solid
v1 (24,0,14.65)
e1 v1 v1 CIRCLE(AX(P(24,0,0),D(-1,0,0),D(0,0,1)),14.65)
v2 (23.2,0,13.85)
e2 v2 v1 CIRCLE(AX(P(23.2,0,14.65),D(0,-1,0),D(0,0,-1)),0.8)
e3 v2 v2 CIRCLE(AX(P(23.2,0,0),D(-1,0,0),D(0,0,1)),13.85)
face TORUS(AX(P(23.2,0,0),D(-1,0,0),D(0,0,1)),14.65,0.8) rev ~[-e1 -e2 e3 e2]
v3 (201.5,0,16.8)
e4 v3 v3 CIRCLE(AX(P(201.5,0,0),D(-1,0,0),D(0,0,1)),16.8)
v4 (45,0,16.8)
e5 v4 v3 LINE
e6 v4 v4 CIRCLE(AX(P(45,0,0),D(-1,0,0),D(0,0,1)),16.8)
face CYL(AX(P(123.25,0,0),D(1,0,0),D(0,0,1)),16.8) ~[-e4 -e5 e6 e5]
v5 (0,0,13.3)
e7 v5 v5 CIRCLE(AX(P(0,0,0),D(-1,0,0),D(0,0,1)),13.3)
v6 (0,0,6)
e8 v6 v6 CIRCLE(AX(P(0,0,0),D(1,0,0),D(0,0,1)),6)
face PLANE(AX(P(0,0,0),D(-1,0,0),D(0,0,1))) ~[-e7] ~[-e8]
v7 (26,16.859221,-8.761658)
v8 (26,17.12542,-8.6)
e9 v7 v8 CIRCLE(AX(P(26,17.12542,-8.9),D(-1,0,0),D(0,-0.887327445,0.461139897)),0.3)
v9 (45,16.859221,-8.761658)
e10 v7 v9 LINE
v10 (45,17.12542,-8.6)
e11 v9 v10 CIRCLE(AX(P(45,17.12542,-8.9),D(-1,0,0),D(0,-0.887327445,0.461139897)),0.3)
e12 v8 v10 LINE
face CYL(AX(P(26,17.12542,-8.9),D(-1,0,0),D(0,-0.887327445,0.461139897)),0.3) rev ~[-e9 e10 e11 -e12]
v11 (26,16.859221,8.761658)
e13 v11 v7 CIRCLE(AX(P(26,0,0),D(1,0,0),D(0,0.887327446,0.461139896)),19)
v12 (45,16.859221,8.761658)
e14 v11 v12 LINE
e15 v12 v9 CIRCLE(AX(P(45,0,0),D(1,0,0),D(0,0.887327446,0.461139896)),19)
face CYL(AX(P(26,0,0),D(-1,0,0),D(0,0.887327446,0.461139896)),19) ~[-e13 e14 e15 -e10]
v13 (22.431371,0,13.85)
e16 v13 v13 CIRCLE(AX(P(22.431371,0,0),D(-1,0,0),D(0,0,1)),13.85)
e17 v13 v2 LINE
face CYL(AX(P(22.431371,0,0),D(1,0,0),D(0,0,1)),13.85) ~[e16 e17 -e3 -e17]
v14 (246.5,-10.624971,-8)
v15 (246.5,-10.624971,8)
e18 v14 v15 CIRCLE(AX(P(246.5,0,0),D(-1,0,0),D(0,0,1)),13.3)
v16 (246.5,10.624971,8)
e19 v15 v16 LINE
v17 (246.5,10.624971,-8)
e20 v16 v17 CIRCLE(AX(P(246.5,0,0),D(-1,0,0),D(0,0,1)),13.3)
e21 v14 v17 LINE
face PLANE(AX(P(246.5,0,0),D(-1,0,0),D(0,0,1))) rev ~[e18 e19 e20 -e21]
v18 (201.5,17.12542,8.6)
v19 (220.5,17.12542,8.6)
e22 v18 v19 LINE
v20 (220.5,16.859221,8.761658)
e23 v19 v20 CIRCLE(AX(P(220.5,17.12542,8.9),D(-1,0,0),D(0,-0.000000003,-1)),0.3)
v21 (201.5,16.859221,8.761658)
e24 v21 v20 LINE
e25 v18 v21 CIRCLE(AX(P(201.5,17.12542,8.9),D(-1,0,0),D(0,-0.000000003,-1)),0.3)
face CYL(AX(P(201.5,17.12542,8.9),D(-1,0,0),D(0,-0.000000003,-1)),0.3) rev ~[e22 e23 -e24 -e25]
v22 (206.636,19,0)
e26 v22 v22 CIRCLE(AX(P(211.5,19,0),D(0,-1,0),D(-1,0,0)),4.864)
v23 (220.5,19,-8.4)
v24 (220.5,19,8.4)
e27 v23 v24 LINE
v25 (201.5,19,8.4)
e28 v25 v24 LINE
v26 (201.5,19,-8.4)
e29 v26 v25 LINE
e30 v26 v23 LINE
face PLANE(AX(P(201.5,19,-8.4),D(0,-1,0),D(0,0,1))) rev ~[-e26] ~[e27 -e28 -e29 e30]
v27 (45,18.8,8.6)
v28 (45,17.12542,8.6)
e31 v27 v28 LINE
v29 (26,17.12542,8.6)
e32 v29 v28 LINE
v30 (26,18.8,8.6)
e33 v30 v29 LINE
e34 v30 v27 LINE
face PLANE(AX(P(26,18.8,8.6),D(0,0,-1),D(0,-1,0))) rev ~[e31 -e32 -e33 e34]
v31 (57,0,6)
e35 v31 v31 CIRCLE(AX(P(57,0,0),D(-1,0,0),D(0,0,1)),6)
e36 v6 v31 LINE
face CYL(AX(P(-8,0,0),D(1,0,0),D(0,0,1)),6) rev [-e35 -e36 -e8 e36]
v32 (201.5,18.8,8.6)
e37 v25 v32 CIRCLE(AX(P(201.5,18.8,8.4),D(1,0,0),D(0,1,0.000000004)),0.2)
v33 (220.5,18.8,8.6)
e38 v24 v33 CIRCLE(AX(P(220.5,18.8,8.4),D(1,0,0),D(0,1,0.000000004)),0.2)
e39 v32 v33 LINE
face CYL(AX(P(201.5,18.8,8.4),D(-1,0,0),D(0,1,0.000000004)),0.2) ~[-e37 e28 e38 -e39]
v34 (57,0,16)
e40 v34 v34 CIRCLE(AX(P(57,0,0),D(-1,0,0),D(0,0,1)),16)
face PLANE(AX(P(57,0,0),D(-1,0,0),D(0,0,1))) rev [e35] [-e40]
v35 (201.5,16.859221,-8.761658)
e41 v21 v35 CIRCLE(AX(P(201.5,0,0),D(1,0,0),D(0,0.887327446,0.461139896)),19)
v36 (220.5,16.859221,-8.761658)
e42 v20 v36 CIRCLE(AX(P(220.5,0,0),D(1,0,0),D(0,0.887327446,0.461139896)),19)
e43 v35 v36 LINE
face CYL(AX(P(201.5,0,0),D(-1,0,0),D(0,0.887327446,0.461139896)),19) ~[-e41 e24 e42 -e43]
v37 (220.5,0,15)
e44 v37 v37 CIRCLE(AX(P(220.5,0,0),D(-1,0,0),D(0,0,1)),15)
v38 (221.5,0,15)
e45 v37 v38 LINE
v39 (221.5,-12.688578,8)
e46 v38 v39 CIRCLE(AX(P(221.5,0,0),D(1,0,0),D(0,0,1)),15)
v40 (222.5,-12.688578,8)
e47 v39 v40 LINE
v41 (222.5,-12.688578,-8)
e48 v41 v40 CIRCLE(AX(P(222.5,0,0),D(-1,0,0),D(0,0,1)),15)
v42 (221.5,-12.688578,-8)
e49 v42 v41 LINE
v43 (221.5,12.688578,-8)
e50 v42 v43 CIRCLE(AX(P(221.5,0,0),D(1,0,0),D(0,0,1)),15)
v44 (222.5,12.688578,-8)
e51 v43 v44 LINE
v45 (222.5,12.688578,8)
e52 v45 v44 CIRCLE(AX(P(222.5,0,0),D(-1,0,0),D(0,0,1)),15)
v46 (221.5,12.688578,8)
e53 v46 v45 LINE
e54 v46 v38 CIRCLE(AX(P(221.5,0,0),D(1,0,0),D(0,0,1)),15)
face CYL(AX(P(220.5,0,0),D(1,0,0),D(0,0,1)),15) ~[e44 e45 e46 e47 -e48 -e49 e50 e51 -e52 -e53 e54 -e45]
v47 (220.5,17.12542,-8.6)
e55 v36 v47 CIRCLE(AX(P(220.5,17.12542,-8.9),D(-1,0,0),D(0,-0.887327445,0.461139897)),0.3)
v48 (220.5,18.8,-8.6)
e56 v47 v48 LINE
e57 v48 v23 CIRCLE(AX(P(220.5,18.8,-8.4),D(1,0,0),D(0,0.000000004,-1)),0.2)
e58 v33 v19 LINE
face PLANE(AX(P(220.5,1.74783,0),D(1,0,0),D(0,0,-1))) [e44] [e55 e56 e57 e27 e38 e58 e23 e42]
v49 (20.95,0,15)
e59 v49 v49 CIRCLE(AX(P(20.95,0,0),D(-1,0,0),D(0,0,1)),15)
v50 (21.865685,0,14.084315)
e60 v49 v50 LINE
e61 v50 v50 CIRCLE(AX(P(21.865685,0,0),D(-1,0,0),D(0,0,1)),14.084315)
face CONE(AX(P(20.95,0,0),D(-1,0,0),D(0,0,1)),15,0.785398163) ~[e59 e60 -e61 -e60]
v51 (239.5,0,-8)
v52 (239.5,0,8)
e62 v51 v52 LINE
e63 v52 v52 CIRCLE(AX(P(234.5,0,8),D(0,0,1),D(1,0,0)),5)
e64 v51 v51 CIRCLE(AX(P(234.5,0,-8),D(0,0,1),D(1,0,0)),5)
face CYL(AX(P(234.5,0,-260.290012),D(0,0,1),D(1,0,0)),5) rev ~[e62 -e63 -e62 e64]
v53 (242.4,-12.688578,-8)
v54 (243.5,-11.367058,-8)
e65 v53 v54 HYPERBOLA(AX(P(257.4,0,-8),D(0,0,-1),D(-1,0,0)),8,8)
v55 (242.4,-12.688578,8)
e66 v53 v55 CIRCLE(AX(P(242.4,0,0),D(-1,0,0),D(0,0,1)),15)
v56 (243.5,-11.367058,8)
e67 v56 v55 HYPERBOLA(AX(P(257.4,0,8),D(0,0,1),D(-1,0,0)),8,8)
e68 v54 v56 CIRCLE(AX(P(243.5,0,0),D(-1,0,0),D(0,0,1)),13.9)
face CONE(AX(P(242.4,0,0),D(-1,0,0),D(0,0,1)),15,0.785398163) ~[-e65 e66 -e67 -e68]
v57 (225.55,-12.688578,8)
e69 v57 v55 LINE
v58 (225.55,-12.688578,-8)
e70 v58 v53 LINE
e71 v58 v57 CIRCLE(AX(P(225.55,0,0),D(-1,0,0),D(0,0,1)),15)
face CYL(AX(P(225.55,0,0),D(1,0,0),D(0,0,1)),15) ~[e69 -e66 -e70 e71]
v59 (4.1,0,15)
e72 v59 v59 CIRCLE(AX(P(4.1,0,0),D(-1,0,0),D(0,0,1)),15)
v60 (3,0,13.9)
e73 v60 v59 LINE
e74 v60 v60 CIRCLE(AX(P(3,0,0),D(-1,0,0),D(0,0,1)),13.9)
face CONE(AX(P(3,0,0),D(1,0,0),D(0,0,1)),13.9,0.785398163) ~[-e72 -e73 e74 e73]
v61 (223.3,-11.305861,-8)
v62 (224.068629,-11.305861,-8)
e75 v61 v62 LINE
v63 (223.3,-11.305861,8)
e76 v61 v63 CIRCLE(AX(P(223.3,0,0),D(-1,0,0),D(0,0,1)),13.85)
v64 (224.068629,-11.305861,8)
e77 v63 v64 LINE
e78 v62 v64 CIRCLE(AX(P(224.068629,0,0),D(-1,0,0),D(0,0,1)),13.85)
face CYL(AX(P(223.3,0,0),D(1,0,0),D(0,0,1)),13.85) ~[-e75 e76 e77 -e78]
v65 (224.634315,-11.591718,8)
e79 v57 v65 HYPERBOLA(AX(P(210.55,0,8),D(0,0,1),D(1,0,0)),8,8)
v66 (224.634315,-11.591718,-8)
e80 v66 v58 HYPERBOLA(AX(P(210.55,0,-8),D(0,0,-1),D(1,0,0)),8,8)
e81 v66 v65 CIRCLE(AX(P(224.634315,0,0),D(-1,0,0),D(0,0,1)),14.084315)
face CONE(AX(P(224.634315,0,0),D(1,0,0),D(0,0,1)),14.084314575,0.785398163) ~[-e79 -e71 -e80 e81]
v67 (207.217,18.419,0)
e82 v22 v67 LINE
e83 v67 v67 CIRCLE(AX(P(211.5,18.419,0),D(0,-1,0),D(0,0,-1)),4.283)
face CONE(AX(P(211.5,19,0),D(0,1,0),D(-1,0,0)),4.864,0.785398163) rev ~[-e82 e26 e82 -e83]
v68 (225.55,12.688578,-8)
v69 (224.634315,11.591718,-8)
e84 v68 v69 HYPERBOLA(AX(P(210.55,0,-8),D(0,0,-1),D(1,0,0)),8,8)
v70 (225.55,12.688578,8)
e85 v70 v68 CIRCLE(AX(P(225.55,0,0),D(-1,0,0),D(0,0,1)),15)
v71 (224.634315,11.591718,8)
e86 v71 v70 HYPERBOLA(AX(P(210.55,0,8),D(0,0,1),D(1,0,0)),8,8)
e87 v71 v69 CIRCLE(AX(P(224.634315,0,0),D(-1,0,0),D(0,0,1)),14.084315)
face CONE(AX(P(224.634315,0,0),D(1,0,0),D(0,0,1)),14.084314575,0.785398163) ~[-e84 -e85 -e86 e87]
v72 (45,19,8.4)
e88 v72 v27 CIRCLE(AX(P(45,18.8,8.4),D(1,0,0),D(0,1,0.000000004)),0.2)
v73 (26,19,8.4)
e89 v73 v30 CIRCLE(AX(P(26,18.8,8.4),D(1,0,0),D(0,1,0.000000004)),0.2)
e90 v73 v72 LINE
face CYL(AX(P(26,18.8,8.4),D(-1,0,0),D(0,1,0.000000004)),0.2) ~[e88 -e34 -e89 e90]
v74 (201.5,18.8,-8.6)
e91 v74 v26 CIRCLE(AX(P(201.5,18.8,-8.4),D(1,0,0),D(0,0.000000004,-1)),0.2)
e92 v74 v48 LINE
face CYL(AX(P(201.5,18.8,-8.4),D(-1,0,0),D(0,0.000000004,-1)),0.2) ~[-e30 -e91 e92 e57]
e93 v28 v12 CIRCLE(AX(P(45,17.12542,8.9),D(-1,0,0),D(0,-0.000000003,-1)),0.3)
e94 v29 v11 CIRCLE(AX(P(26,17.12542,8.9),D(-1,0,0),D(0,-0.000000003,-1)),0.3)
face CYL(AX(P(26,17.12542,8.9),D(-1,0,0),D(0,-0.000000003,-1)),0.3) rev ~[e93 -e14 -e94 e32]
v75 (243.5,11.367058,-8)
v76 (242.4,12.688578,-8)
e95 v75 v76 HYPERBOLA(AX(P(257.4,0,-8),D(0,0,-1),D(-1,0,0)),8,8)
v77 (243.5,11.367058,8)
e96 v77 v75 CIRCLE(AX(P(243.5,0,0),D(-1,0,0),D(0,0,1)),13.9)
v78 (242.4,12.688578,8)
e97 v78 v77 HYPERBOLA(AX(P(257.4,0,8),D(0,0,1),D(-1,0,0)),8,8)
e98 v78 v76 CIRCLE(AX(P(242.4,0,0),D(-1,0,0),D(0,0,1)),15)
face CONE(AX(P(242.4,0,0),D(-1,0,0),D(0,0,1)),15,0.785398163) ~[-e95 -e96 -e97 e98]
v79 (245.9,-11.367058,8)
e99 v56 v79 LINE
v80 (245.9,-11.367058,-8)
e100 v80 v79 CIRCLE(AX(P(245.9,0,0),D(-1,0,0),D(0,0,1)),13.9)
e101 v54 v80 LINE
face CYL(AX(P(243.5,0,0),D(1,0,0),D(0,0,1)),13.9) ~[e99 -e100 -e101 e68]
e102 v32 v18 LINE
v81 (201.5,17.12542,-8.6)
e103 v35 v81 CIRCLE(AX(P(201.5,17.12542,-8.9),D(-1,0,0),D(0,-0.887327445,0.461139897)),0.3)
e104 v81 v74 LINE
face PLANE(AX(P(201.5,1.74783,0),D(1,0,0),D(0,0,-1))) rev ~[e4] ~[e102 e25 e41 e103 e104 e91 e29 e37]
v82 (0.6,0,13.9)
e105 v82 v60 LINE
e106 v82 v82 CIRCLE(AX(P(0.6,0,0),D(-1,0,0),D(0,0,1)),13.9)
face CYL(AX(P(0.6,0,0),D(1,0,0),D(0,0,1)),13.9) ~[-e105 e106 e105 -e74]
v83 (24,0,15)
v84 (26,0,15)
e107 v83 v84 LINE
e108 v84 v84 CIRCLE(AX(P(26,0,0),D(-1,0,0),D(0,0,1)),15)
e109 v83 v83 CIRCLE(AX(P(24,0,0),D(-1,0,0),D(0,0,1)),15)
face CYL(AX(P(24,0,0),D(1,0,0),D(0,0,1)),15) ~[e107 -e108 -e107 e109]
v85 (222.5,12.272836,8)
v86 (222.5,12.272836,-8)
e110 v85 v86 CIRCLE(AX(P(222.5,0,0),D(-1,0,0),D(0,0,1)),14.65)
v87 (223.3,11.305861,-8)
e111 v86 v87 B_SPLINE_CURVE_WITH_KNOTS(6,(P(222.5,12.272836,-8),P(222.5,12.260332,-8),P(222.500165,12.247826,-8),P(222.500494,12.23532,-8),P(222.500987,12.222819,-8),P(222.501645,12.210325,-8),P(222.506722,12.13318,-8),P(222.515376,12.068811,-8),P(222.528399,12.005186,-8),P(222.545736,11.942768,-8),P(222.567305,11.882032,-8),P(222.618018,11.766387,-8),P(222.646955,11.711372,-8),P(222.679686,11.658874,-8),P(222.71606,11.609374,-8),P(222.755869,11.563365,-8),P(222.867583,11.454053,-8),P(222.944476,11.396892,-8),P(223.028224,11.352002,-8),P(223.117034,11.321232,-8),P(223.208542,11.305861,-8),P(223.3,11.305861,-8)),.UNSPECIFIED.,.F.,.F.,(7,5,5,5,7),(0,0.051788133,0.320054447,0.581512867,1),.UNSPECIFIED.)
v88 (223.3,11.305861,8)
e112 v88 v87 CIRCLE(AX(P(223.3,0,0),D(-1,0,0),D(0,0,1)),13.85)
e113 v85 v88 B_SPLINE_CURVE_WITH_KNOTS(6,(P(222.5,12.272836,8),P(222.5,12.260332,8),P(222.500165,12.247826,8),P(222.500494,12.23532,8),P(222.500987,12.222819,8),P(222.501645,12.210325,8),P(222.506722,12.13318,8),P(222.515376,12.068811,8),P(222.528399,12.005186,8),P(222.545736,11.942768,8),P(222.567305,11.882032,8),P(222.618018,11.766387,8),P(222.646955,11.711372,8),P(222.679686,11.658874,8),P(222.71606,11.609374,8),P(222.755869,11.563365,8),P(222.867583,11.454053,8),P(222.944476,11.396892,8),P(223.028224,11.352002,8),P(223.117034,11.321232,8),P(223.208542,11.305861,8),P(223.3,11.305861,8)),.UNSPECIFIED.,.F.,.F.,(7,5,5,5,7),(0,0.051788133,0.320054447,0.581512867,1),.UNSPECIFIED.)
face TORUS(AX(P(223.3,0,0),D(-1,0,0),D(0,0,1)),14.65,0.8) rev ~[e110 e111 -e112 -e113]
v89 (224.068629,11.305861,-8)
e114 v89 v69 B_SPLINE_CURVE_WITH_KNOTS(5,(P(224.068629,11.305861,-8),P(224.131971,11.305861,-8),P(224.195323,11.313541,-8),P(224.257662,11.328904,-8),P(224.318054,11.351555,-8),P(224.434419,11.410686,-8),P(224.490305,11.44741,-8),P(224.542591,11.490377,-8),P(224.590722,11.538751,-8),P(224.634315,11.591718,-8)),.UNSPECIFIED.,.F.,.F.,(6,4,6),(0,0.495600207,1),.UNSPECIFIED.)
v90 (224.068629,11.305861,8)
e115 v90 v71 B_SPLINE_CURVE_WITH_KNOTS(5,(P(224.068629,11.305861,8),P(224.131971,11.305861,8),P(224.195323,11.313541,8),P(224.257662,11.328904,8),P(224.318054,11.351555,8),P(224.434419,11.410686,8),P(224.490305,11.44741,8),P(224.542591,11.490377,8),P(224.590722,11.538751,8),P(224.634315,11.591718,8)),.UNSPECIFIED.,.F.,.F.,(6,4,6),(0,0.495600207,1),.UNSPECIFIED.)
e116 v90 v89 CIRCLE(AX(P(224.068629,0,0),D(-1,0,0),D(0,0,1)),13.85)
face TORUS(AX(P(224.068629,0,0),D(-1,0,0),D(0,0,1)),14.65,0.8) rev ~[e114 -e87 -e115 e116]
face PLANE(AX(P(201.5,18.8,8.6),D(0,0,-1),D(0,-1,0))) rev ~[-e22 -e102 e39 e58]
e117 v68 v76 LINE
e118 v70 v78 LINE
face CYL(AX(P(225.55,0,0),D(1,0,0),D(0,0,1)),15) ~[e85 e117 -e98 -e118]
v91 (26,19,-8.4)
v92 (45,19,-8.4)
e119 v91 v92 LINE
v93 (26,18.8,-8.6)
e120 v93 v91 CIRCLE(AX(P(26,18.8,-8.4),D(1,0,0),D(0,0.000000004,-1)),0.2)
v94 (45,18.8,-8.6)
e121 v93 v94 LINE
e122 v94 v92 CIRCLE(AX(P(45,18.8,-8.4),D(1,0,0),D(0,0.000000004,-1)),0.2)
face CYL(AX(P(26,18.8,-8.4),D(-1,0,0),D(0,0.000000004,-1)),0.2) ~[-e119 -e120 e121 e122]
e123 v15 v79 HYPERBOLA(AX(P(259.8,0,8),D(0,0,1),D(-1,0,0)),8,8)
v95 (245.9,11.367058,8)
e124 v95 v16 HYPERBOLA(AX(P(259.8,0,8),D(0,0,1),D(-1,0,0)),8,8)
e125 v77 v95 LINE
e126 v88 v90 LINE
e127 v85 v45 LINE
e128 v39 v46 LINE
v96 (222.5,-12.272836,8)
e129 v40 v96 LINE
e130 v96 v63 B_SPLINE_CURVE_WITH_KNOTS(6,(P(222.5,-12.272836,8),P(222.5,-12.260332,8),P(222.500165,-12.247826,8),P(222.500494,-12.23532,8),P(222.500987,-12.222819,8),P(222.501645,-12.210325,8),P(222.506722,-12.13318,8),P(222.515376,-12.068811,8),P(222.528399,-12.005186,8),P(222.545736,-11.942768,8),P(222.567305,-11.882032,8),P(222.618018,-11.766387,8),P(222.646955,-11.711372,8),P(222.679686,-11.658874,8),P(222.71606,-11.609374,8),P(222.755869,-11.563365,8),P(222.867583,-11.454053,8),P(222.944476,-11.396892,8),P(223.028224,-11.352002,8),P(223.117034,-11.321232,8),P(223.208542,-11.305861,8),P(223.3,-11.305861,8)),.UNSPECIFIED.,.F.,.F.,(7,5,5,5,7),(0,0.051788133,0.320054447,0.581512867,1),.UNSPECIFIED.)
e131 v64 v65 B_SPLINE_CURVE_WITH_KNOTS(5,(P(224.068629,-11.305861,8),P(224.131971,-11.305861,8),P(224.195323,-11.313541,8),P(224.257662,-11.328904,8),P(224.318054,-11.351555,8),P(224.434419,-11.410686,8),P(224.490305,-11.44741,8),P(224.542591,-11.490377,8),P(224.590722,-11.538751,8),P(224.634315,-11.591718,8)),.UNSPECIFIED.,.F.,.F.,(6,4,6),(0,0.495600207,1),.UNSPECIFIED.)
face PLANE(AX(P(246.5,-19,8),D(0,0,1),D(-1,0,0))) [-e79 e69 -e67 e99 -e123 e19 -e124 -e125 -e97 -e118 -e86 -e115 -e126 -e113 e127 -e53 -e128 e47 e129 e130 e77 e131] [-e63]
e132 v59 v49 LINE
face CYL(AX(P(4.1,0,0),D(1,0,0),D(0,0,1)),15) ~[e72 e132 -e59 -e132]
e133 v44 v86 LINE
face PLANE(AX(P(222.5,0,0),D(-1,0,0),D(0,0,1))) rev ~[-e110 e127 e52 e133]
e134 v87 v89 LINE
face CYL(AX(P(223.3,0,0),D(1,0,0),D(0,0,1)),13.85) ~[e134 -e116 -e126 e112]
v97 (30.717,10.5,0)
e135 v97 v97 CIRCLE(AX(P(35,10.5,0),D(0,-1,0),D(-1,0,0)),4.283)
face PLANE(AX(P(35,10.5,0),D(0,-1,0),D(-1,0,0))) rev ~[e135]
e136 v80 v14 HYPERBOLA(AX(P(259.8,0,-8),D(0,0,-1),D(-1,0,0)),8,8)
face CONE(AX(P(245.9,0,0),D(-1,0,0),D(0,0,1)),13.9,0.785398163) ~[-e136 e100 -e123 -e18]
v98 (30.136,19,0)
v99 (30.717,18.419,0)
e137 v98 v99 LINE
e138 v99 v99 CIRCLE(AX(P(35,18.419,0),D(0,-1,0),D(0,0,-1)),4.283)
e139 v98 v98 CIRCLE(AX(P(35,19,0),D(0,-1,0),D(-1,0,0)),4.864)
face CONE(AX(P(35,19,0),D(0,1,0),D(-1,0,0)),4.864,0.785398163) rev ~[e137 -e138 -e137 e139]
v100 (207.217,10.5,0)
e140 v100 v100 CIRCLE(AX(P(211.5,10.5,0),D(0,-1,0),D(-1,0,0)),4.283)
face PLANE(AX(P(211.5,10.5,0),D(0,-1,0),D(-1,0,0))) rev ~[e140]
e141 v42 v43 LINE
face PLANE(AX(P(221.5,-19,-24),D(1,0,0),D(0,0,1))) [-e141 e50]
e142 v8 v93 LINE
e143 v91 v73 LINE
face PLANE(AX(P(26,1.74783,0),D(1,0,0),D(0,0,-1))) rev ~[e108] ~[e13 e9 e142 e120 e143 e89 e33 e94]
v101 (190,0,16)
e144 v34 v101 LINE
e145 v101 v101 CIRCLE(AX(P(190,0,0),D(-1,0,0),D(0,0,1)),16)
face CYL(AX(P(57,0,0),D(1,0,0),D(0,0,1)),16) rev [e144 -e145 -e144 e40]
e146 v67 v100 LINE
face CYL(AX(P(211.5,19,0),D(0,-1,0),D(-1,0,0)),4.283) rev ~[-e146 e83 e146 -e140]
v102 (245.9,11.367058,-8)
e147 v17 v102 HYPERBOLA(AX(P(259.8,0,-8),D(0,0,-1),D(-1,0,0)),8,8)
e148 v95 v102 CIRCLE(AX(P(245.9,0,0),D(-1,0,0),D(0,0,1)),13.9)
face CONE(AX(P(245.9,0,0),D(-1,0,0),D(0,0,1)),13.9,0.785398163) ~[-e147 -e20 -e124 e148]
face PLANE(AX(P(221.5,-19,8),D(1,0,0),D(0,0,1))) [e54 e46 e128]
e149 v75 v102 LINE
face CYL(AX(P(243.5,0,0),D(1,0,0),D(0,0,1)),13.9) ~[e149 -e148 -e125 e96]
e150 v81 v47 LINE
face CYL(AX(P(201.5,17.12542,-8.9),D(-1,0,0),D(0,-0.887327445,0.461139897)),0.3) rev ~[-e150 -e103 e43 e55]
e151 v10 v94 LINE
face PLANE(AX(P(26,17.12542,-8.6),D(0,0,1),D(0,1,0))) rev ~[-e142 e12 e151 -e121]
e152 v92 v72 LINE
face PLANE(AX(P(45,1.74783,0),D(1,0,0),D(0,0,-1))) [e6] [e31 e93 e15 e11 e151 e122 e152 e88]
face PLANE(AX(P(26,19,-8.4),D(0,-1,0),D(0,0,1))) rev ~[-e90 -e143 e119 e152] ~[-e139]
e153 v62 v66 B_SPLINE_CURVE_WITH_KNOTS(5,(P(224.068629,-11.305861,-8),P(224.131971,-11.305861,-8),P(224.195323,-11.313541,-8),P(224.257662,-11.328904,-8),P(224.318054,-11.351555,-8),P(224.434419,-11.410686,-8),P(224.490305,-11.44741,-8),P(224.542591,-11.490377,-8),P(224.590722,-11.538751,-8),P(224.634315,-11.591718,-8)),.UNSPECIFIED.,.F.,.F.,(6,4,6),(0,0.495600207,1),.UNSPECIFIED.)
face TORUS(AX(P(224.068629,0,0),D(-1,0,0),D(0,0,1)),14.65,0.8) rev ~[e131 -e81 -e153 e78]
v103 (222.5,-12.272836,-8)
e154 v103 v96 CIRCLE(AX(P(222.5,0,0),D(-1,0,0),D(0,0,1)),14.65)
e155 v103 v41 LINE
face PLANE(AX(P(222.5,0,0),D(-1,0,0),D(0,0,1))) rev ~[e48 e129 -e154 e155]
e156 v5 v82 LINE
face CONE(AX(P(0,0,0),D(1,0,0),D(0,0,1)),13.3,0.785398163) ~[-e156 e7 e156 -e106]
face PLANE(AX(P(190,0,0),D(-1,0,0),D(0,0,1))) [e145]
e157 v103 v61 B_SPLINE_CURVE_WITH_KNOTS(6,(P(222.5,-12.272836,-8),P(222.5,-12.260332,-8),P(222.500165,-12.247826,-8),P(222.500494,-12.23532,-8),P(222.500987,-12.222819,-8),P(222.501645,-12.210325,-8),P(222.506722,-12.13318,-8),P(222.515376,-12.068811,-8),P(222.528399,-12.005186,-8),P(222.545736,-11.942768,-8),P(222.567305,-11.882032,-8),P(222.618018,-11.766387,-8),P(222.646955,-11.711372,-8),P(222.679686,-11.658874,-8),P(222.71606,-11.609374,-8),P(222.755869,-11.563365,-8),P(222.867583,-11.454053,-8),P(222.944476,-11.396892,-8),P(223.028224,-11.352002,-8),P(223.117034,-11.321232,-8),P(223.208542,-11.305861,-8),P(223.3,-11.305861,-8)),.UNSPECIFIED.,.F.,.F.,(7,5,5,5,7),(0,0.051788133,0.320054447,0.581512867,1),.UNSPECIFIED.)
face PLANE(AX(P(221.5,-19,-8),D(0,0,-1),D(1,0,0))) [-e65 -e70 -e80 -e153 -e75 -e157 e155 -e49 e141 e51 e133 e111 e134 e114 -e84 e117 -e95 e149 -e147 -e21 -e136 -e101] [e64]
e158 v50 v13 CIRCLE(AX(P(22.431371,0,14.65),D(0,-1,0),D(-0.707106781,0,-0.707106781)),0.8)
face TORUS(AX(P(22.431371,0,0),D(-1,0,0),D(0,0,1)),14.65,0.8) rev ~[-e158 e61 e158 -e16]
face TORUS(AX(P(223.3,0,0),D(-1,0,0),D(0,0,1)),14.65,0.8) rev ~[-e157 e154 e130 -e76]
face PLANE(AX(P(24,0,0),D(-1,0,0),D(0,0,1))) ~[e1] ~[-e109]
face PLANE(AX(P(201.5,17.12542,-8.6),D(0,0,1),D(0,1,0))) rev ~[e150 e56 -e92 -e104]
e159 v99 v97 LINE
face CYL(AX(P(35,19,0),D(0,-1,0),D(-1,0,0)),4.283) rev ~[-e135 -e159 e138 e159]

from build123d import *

# Parameters (mm, degrees)
AUFSATZ_LINEAR_AUSTRAGEN1_DEPTH      = 19
SKIZZE3_W                            = 156.5
SKIZZE3_H                            = 16.8
AUFSATZ_LINEAR_AUSTRAGEN2_DEPTH      = 19
SCHNITT_LINEAR_AUSTRAGEN1_DEPTH      = 19
SCHNITT_LINEAR_AUSTRAGEN1_DEPTH_BACK = 19
BOHRUNG1_D                           = 10
BOHRUNG2_D                           = 8.566
BOHRUNG2_DEPTH                       = 8.5
BOHRUNG2_CSINK_D                     = 9.728
BOHRUNG2_CSINK_ANGLE                 = 90
BOHRUNG3_D                           = 8.566
BOHRUNG3_DEPTH                       = 8.5
BOHRUNG3_CSINK_D                     = 9.728
BOHRUNG3_CSINK_ANGLE                 = 90


with BuildPart() as part:
    # Skizze1 → Rotation1 (revolve)
    with BuildSketch(Plane.XY):
        with BuildLine():
            Line((0, 0), (0, 13.3))
            Line((0, 13.3), (0.6, 13.9))
            Line((0.6, 13.9), (3, 13.9))
            Line((3, 13.9), (4.1, 15))
            Line((4.1, 15), (20.95, 15))
            Line((20.95, 15), (21.865685425, 14.084314575))
            ThreePointArc((21.865685425, 14.084314575), (22.125224104, 13.910896374), (22.43137085, 13.85))
            Line((22.43137085, 13.85), (23.2, 13.85))
            ThreePointArc((23.2, 13.85), (23.765685425, 14.084314575), (24, 14.65))
            Line((24, 14.65), (24, 15))
            Line((24, 15), (26, 15))
            Line((26, 15), (26, 0))
            Line((26, 0), (0, 0))
        make_face()
    revolve(axis=Axis((26, 0, 0), (-1, 0, 0)))

    # Skizze2 → Aufsatz-Linear austragen1 (add)
    with BuildSketch(Plane(origin=(26, 0, 0), x_dir=(0, 0, -1), z_dir=(1, 0, 0))):
        with BuildLine():
            Line((8.6, 17.125419703), (8.6, 18.8))
            ThreePointArc((8.6, 18.8), (8.541421356, 18.941421356), (8.4, 19))
            Line((8.4, 19), (-8.4, 19))
            ThreePointArc((-8.4, 19), (-8.541421356, 18.941421356), (-8.6, 18.8))
            Line((-8.6, 18.8), (-8.6, 17.125419703))
            ThreePointArc((-8.6, 17.125419703), (-8.643579842, 16.969699754), (-8.761658017, 16.859221476))
            ThreePointArc((-8.761658017, 16.859221476), (-8e-09, -19), (8.761658031, 16.859221469))
            ThreePointArc((8.761658031, 16.859221469), (8.643579846, 16.969699747), (8.6, 17.125419703))
        make_face()
    extrude(amount=AUFSATZ_LINEAR_AUSTRAGEN1_DEPTH)

    # Skizze3 → Rotation2 (revolve)
    with BuildSketch(Plane.XY):
        with Locations((123.25, 8.4)):
            Rectangle(SKIZZE3_W, SKIZZE3_H)
    revolve(axis=Axis((201.5, 0, 0), (-1, 0, 0)))

    # Skizze4 → Aufsatz-Linear austragen2 (add)
    with BuildSketch(Plane(origin=(201.5, 0, 0), x_dir=(0, 0, -1), z_dir=(1, 0, 0))):
        with BuildLine():
            Line((8.6, 17.125419703), (8.6, 18.8))
            ThreePointArc((8.6, 18.8), (8.541421356, 18.941421356), (8.4, 19))
            Line((8.4, 19), (-8.4, 19))
            ThreePointArc((-8.4, 19), (-8.541421356, 18.941421356), (-8.6, 18.8))
            Line((-8.6, 18.8), (-8.6, 17.125419703))
            ThreePointArc((-8.6, 17.125419703), (-8.643579842, 16.969699754), (-8.761658017, 16.859221476))
            ThreePointArc((-8.761658017, 16.859221476), (-8e-09, -19), (8.761658031, 16.859221469))
            ThreePointArc((8.761658031, 16.859221469), (8.643579846, 16.969699747), (8.6, 17.125419703))
        make_face()
    extrude(amount=AUFSATZ_LINEAR_AUSTRAGEN2_DEPTH)

    # Skizze5 → Rotation3 (revolve)
    with BuildSketch(Plane.XY):
        with BuildLine():
            Line((220.5, 0), (220.5, 15))
            Line((220.5, 15), (222.5, 15))
            Line((222.5, 15), (222.5, 14.65))
            ThreePointArc((222.5, 14.65), (222.734314575, 14.084314575), (223.3, 13.85))
            Line((223.3, 13.85), (224.06862915, 13.85))
            ThreePointArc((224.06862915, 13.85), (224.374775896, 13.910896374), (224.634314575, 14.084314575))
            Line((224.634314575, 14.084314575), (225.55, 15))
            Line((225.55, 15), (242.4, 15))
            Line((242.4, 15), (243.5, 13.9))
            Line((243.5, 13.9), (245.9, 13.9))
            Line((245.9, 13.9), (246.5, 13.3))
            Line((246.5, 13.3), (246.5, 0))
            Line((246.5, 0), (220.5, 0))
        make_face()
    revolve(axis=Axis((246.5, 0, 0), (-1, 0, 0)))

    # Skizze6 → Schnitt-Linear austragen1 (cut, two sides: drawn at the far end of the back side and taken through both)
    with BuildSketch(Plane(origin=(0, 0, 0), x_dir=(1, 0, 0), z_dir=(0, 1, 0)).offset(-SCHNITT_LINEAR_AUSTRAGEN1_DEPTH_BACK)):
        Polygon((221.5, 24), (221.5, 8), (246.5, 8), (246.5, -8), (221.5, -8), (221.5, -24), (262.5, -24), (262.5, 24), align=None)
    extrude(amount=SCHNITT_LINEAR_AUSTRAGEN1_DEPTH + SCHNITT_LINEAR_AUSTRAGEN1_DEPTH_BACK, mode=Mode.SUBTRACT)

    # Bohrung1 (through all)
    with Locations(Plane(origin=(0, 0, -8), x_dir=(-1, 0, 0), z_dir=(0, 0, -1))):
        with Locations((-234.5, 0)):
            Hole(BOHRUNG1_D / 2)

    # Bohrung2
    with Locations(Plane(origin=(0, 19, 0), x_dir=(1, 0, 0), z_dir=(0, 1, 0))):
        with Locations((35, 0)):
            CounterSinkHole(BOHRUNG2_D / 2, BOHRUNG2_CSINK_D / 2, depth=BOHRUNG2_DEPTH, counter_sink_angle=BOHRUNG2_CSINK_ANGLE)

    # Bohrung3
    with Locations(Plane(origin=(0, 19, 0), x_dir=(1, 0, 0), z_dir=(0, 1, 0))):
        with Locations((211.5, 0)):
            CounterSinkHole(BOHRUNG3_D / 2, BOHRUNG3_CSINK_D / 2, depth=BOHRUNG3_DEPTH, counter_sink_angle=BOHRUNG3_CSINK_ANGLE)

    # Skizze13 → Schnitt-Rotation1 (revolve, cut)
    with BuildSketch(Plane.XY):
        Polygon((-8, 0), (-8, 6), (57, 6), (57, 16), (190, 16), (190, 0), align=None)
    revolve(axis=Axis((190, 0, 0), (-1, 0, 0)), mode=Mode.SUBTRACT)


solid = part.part
